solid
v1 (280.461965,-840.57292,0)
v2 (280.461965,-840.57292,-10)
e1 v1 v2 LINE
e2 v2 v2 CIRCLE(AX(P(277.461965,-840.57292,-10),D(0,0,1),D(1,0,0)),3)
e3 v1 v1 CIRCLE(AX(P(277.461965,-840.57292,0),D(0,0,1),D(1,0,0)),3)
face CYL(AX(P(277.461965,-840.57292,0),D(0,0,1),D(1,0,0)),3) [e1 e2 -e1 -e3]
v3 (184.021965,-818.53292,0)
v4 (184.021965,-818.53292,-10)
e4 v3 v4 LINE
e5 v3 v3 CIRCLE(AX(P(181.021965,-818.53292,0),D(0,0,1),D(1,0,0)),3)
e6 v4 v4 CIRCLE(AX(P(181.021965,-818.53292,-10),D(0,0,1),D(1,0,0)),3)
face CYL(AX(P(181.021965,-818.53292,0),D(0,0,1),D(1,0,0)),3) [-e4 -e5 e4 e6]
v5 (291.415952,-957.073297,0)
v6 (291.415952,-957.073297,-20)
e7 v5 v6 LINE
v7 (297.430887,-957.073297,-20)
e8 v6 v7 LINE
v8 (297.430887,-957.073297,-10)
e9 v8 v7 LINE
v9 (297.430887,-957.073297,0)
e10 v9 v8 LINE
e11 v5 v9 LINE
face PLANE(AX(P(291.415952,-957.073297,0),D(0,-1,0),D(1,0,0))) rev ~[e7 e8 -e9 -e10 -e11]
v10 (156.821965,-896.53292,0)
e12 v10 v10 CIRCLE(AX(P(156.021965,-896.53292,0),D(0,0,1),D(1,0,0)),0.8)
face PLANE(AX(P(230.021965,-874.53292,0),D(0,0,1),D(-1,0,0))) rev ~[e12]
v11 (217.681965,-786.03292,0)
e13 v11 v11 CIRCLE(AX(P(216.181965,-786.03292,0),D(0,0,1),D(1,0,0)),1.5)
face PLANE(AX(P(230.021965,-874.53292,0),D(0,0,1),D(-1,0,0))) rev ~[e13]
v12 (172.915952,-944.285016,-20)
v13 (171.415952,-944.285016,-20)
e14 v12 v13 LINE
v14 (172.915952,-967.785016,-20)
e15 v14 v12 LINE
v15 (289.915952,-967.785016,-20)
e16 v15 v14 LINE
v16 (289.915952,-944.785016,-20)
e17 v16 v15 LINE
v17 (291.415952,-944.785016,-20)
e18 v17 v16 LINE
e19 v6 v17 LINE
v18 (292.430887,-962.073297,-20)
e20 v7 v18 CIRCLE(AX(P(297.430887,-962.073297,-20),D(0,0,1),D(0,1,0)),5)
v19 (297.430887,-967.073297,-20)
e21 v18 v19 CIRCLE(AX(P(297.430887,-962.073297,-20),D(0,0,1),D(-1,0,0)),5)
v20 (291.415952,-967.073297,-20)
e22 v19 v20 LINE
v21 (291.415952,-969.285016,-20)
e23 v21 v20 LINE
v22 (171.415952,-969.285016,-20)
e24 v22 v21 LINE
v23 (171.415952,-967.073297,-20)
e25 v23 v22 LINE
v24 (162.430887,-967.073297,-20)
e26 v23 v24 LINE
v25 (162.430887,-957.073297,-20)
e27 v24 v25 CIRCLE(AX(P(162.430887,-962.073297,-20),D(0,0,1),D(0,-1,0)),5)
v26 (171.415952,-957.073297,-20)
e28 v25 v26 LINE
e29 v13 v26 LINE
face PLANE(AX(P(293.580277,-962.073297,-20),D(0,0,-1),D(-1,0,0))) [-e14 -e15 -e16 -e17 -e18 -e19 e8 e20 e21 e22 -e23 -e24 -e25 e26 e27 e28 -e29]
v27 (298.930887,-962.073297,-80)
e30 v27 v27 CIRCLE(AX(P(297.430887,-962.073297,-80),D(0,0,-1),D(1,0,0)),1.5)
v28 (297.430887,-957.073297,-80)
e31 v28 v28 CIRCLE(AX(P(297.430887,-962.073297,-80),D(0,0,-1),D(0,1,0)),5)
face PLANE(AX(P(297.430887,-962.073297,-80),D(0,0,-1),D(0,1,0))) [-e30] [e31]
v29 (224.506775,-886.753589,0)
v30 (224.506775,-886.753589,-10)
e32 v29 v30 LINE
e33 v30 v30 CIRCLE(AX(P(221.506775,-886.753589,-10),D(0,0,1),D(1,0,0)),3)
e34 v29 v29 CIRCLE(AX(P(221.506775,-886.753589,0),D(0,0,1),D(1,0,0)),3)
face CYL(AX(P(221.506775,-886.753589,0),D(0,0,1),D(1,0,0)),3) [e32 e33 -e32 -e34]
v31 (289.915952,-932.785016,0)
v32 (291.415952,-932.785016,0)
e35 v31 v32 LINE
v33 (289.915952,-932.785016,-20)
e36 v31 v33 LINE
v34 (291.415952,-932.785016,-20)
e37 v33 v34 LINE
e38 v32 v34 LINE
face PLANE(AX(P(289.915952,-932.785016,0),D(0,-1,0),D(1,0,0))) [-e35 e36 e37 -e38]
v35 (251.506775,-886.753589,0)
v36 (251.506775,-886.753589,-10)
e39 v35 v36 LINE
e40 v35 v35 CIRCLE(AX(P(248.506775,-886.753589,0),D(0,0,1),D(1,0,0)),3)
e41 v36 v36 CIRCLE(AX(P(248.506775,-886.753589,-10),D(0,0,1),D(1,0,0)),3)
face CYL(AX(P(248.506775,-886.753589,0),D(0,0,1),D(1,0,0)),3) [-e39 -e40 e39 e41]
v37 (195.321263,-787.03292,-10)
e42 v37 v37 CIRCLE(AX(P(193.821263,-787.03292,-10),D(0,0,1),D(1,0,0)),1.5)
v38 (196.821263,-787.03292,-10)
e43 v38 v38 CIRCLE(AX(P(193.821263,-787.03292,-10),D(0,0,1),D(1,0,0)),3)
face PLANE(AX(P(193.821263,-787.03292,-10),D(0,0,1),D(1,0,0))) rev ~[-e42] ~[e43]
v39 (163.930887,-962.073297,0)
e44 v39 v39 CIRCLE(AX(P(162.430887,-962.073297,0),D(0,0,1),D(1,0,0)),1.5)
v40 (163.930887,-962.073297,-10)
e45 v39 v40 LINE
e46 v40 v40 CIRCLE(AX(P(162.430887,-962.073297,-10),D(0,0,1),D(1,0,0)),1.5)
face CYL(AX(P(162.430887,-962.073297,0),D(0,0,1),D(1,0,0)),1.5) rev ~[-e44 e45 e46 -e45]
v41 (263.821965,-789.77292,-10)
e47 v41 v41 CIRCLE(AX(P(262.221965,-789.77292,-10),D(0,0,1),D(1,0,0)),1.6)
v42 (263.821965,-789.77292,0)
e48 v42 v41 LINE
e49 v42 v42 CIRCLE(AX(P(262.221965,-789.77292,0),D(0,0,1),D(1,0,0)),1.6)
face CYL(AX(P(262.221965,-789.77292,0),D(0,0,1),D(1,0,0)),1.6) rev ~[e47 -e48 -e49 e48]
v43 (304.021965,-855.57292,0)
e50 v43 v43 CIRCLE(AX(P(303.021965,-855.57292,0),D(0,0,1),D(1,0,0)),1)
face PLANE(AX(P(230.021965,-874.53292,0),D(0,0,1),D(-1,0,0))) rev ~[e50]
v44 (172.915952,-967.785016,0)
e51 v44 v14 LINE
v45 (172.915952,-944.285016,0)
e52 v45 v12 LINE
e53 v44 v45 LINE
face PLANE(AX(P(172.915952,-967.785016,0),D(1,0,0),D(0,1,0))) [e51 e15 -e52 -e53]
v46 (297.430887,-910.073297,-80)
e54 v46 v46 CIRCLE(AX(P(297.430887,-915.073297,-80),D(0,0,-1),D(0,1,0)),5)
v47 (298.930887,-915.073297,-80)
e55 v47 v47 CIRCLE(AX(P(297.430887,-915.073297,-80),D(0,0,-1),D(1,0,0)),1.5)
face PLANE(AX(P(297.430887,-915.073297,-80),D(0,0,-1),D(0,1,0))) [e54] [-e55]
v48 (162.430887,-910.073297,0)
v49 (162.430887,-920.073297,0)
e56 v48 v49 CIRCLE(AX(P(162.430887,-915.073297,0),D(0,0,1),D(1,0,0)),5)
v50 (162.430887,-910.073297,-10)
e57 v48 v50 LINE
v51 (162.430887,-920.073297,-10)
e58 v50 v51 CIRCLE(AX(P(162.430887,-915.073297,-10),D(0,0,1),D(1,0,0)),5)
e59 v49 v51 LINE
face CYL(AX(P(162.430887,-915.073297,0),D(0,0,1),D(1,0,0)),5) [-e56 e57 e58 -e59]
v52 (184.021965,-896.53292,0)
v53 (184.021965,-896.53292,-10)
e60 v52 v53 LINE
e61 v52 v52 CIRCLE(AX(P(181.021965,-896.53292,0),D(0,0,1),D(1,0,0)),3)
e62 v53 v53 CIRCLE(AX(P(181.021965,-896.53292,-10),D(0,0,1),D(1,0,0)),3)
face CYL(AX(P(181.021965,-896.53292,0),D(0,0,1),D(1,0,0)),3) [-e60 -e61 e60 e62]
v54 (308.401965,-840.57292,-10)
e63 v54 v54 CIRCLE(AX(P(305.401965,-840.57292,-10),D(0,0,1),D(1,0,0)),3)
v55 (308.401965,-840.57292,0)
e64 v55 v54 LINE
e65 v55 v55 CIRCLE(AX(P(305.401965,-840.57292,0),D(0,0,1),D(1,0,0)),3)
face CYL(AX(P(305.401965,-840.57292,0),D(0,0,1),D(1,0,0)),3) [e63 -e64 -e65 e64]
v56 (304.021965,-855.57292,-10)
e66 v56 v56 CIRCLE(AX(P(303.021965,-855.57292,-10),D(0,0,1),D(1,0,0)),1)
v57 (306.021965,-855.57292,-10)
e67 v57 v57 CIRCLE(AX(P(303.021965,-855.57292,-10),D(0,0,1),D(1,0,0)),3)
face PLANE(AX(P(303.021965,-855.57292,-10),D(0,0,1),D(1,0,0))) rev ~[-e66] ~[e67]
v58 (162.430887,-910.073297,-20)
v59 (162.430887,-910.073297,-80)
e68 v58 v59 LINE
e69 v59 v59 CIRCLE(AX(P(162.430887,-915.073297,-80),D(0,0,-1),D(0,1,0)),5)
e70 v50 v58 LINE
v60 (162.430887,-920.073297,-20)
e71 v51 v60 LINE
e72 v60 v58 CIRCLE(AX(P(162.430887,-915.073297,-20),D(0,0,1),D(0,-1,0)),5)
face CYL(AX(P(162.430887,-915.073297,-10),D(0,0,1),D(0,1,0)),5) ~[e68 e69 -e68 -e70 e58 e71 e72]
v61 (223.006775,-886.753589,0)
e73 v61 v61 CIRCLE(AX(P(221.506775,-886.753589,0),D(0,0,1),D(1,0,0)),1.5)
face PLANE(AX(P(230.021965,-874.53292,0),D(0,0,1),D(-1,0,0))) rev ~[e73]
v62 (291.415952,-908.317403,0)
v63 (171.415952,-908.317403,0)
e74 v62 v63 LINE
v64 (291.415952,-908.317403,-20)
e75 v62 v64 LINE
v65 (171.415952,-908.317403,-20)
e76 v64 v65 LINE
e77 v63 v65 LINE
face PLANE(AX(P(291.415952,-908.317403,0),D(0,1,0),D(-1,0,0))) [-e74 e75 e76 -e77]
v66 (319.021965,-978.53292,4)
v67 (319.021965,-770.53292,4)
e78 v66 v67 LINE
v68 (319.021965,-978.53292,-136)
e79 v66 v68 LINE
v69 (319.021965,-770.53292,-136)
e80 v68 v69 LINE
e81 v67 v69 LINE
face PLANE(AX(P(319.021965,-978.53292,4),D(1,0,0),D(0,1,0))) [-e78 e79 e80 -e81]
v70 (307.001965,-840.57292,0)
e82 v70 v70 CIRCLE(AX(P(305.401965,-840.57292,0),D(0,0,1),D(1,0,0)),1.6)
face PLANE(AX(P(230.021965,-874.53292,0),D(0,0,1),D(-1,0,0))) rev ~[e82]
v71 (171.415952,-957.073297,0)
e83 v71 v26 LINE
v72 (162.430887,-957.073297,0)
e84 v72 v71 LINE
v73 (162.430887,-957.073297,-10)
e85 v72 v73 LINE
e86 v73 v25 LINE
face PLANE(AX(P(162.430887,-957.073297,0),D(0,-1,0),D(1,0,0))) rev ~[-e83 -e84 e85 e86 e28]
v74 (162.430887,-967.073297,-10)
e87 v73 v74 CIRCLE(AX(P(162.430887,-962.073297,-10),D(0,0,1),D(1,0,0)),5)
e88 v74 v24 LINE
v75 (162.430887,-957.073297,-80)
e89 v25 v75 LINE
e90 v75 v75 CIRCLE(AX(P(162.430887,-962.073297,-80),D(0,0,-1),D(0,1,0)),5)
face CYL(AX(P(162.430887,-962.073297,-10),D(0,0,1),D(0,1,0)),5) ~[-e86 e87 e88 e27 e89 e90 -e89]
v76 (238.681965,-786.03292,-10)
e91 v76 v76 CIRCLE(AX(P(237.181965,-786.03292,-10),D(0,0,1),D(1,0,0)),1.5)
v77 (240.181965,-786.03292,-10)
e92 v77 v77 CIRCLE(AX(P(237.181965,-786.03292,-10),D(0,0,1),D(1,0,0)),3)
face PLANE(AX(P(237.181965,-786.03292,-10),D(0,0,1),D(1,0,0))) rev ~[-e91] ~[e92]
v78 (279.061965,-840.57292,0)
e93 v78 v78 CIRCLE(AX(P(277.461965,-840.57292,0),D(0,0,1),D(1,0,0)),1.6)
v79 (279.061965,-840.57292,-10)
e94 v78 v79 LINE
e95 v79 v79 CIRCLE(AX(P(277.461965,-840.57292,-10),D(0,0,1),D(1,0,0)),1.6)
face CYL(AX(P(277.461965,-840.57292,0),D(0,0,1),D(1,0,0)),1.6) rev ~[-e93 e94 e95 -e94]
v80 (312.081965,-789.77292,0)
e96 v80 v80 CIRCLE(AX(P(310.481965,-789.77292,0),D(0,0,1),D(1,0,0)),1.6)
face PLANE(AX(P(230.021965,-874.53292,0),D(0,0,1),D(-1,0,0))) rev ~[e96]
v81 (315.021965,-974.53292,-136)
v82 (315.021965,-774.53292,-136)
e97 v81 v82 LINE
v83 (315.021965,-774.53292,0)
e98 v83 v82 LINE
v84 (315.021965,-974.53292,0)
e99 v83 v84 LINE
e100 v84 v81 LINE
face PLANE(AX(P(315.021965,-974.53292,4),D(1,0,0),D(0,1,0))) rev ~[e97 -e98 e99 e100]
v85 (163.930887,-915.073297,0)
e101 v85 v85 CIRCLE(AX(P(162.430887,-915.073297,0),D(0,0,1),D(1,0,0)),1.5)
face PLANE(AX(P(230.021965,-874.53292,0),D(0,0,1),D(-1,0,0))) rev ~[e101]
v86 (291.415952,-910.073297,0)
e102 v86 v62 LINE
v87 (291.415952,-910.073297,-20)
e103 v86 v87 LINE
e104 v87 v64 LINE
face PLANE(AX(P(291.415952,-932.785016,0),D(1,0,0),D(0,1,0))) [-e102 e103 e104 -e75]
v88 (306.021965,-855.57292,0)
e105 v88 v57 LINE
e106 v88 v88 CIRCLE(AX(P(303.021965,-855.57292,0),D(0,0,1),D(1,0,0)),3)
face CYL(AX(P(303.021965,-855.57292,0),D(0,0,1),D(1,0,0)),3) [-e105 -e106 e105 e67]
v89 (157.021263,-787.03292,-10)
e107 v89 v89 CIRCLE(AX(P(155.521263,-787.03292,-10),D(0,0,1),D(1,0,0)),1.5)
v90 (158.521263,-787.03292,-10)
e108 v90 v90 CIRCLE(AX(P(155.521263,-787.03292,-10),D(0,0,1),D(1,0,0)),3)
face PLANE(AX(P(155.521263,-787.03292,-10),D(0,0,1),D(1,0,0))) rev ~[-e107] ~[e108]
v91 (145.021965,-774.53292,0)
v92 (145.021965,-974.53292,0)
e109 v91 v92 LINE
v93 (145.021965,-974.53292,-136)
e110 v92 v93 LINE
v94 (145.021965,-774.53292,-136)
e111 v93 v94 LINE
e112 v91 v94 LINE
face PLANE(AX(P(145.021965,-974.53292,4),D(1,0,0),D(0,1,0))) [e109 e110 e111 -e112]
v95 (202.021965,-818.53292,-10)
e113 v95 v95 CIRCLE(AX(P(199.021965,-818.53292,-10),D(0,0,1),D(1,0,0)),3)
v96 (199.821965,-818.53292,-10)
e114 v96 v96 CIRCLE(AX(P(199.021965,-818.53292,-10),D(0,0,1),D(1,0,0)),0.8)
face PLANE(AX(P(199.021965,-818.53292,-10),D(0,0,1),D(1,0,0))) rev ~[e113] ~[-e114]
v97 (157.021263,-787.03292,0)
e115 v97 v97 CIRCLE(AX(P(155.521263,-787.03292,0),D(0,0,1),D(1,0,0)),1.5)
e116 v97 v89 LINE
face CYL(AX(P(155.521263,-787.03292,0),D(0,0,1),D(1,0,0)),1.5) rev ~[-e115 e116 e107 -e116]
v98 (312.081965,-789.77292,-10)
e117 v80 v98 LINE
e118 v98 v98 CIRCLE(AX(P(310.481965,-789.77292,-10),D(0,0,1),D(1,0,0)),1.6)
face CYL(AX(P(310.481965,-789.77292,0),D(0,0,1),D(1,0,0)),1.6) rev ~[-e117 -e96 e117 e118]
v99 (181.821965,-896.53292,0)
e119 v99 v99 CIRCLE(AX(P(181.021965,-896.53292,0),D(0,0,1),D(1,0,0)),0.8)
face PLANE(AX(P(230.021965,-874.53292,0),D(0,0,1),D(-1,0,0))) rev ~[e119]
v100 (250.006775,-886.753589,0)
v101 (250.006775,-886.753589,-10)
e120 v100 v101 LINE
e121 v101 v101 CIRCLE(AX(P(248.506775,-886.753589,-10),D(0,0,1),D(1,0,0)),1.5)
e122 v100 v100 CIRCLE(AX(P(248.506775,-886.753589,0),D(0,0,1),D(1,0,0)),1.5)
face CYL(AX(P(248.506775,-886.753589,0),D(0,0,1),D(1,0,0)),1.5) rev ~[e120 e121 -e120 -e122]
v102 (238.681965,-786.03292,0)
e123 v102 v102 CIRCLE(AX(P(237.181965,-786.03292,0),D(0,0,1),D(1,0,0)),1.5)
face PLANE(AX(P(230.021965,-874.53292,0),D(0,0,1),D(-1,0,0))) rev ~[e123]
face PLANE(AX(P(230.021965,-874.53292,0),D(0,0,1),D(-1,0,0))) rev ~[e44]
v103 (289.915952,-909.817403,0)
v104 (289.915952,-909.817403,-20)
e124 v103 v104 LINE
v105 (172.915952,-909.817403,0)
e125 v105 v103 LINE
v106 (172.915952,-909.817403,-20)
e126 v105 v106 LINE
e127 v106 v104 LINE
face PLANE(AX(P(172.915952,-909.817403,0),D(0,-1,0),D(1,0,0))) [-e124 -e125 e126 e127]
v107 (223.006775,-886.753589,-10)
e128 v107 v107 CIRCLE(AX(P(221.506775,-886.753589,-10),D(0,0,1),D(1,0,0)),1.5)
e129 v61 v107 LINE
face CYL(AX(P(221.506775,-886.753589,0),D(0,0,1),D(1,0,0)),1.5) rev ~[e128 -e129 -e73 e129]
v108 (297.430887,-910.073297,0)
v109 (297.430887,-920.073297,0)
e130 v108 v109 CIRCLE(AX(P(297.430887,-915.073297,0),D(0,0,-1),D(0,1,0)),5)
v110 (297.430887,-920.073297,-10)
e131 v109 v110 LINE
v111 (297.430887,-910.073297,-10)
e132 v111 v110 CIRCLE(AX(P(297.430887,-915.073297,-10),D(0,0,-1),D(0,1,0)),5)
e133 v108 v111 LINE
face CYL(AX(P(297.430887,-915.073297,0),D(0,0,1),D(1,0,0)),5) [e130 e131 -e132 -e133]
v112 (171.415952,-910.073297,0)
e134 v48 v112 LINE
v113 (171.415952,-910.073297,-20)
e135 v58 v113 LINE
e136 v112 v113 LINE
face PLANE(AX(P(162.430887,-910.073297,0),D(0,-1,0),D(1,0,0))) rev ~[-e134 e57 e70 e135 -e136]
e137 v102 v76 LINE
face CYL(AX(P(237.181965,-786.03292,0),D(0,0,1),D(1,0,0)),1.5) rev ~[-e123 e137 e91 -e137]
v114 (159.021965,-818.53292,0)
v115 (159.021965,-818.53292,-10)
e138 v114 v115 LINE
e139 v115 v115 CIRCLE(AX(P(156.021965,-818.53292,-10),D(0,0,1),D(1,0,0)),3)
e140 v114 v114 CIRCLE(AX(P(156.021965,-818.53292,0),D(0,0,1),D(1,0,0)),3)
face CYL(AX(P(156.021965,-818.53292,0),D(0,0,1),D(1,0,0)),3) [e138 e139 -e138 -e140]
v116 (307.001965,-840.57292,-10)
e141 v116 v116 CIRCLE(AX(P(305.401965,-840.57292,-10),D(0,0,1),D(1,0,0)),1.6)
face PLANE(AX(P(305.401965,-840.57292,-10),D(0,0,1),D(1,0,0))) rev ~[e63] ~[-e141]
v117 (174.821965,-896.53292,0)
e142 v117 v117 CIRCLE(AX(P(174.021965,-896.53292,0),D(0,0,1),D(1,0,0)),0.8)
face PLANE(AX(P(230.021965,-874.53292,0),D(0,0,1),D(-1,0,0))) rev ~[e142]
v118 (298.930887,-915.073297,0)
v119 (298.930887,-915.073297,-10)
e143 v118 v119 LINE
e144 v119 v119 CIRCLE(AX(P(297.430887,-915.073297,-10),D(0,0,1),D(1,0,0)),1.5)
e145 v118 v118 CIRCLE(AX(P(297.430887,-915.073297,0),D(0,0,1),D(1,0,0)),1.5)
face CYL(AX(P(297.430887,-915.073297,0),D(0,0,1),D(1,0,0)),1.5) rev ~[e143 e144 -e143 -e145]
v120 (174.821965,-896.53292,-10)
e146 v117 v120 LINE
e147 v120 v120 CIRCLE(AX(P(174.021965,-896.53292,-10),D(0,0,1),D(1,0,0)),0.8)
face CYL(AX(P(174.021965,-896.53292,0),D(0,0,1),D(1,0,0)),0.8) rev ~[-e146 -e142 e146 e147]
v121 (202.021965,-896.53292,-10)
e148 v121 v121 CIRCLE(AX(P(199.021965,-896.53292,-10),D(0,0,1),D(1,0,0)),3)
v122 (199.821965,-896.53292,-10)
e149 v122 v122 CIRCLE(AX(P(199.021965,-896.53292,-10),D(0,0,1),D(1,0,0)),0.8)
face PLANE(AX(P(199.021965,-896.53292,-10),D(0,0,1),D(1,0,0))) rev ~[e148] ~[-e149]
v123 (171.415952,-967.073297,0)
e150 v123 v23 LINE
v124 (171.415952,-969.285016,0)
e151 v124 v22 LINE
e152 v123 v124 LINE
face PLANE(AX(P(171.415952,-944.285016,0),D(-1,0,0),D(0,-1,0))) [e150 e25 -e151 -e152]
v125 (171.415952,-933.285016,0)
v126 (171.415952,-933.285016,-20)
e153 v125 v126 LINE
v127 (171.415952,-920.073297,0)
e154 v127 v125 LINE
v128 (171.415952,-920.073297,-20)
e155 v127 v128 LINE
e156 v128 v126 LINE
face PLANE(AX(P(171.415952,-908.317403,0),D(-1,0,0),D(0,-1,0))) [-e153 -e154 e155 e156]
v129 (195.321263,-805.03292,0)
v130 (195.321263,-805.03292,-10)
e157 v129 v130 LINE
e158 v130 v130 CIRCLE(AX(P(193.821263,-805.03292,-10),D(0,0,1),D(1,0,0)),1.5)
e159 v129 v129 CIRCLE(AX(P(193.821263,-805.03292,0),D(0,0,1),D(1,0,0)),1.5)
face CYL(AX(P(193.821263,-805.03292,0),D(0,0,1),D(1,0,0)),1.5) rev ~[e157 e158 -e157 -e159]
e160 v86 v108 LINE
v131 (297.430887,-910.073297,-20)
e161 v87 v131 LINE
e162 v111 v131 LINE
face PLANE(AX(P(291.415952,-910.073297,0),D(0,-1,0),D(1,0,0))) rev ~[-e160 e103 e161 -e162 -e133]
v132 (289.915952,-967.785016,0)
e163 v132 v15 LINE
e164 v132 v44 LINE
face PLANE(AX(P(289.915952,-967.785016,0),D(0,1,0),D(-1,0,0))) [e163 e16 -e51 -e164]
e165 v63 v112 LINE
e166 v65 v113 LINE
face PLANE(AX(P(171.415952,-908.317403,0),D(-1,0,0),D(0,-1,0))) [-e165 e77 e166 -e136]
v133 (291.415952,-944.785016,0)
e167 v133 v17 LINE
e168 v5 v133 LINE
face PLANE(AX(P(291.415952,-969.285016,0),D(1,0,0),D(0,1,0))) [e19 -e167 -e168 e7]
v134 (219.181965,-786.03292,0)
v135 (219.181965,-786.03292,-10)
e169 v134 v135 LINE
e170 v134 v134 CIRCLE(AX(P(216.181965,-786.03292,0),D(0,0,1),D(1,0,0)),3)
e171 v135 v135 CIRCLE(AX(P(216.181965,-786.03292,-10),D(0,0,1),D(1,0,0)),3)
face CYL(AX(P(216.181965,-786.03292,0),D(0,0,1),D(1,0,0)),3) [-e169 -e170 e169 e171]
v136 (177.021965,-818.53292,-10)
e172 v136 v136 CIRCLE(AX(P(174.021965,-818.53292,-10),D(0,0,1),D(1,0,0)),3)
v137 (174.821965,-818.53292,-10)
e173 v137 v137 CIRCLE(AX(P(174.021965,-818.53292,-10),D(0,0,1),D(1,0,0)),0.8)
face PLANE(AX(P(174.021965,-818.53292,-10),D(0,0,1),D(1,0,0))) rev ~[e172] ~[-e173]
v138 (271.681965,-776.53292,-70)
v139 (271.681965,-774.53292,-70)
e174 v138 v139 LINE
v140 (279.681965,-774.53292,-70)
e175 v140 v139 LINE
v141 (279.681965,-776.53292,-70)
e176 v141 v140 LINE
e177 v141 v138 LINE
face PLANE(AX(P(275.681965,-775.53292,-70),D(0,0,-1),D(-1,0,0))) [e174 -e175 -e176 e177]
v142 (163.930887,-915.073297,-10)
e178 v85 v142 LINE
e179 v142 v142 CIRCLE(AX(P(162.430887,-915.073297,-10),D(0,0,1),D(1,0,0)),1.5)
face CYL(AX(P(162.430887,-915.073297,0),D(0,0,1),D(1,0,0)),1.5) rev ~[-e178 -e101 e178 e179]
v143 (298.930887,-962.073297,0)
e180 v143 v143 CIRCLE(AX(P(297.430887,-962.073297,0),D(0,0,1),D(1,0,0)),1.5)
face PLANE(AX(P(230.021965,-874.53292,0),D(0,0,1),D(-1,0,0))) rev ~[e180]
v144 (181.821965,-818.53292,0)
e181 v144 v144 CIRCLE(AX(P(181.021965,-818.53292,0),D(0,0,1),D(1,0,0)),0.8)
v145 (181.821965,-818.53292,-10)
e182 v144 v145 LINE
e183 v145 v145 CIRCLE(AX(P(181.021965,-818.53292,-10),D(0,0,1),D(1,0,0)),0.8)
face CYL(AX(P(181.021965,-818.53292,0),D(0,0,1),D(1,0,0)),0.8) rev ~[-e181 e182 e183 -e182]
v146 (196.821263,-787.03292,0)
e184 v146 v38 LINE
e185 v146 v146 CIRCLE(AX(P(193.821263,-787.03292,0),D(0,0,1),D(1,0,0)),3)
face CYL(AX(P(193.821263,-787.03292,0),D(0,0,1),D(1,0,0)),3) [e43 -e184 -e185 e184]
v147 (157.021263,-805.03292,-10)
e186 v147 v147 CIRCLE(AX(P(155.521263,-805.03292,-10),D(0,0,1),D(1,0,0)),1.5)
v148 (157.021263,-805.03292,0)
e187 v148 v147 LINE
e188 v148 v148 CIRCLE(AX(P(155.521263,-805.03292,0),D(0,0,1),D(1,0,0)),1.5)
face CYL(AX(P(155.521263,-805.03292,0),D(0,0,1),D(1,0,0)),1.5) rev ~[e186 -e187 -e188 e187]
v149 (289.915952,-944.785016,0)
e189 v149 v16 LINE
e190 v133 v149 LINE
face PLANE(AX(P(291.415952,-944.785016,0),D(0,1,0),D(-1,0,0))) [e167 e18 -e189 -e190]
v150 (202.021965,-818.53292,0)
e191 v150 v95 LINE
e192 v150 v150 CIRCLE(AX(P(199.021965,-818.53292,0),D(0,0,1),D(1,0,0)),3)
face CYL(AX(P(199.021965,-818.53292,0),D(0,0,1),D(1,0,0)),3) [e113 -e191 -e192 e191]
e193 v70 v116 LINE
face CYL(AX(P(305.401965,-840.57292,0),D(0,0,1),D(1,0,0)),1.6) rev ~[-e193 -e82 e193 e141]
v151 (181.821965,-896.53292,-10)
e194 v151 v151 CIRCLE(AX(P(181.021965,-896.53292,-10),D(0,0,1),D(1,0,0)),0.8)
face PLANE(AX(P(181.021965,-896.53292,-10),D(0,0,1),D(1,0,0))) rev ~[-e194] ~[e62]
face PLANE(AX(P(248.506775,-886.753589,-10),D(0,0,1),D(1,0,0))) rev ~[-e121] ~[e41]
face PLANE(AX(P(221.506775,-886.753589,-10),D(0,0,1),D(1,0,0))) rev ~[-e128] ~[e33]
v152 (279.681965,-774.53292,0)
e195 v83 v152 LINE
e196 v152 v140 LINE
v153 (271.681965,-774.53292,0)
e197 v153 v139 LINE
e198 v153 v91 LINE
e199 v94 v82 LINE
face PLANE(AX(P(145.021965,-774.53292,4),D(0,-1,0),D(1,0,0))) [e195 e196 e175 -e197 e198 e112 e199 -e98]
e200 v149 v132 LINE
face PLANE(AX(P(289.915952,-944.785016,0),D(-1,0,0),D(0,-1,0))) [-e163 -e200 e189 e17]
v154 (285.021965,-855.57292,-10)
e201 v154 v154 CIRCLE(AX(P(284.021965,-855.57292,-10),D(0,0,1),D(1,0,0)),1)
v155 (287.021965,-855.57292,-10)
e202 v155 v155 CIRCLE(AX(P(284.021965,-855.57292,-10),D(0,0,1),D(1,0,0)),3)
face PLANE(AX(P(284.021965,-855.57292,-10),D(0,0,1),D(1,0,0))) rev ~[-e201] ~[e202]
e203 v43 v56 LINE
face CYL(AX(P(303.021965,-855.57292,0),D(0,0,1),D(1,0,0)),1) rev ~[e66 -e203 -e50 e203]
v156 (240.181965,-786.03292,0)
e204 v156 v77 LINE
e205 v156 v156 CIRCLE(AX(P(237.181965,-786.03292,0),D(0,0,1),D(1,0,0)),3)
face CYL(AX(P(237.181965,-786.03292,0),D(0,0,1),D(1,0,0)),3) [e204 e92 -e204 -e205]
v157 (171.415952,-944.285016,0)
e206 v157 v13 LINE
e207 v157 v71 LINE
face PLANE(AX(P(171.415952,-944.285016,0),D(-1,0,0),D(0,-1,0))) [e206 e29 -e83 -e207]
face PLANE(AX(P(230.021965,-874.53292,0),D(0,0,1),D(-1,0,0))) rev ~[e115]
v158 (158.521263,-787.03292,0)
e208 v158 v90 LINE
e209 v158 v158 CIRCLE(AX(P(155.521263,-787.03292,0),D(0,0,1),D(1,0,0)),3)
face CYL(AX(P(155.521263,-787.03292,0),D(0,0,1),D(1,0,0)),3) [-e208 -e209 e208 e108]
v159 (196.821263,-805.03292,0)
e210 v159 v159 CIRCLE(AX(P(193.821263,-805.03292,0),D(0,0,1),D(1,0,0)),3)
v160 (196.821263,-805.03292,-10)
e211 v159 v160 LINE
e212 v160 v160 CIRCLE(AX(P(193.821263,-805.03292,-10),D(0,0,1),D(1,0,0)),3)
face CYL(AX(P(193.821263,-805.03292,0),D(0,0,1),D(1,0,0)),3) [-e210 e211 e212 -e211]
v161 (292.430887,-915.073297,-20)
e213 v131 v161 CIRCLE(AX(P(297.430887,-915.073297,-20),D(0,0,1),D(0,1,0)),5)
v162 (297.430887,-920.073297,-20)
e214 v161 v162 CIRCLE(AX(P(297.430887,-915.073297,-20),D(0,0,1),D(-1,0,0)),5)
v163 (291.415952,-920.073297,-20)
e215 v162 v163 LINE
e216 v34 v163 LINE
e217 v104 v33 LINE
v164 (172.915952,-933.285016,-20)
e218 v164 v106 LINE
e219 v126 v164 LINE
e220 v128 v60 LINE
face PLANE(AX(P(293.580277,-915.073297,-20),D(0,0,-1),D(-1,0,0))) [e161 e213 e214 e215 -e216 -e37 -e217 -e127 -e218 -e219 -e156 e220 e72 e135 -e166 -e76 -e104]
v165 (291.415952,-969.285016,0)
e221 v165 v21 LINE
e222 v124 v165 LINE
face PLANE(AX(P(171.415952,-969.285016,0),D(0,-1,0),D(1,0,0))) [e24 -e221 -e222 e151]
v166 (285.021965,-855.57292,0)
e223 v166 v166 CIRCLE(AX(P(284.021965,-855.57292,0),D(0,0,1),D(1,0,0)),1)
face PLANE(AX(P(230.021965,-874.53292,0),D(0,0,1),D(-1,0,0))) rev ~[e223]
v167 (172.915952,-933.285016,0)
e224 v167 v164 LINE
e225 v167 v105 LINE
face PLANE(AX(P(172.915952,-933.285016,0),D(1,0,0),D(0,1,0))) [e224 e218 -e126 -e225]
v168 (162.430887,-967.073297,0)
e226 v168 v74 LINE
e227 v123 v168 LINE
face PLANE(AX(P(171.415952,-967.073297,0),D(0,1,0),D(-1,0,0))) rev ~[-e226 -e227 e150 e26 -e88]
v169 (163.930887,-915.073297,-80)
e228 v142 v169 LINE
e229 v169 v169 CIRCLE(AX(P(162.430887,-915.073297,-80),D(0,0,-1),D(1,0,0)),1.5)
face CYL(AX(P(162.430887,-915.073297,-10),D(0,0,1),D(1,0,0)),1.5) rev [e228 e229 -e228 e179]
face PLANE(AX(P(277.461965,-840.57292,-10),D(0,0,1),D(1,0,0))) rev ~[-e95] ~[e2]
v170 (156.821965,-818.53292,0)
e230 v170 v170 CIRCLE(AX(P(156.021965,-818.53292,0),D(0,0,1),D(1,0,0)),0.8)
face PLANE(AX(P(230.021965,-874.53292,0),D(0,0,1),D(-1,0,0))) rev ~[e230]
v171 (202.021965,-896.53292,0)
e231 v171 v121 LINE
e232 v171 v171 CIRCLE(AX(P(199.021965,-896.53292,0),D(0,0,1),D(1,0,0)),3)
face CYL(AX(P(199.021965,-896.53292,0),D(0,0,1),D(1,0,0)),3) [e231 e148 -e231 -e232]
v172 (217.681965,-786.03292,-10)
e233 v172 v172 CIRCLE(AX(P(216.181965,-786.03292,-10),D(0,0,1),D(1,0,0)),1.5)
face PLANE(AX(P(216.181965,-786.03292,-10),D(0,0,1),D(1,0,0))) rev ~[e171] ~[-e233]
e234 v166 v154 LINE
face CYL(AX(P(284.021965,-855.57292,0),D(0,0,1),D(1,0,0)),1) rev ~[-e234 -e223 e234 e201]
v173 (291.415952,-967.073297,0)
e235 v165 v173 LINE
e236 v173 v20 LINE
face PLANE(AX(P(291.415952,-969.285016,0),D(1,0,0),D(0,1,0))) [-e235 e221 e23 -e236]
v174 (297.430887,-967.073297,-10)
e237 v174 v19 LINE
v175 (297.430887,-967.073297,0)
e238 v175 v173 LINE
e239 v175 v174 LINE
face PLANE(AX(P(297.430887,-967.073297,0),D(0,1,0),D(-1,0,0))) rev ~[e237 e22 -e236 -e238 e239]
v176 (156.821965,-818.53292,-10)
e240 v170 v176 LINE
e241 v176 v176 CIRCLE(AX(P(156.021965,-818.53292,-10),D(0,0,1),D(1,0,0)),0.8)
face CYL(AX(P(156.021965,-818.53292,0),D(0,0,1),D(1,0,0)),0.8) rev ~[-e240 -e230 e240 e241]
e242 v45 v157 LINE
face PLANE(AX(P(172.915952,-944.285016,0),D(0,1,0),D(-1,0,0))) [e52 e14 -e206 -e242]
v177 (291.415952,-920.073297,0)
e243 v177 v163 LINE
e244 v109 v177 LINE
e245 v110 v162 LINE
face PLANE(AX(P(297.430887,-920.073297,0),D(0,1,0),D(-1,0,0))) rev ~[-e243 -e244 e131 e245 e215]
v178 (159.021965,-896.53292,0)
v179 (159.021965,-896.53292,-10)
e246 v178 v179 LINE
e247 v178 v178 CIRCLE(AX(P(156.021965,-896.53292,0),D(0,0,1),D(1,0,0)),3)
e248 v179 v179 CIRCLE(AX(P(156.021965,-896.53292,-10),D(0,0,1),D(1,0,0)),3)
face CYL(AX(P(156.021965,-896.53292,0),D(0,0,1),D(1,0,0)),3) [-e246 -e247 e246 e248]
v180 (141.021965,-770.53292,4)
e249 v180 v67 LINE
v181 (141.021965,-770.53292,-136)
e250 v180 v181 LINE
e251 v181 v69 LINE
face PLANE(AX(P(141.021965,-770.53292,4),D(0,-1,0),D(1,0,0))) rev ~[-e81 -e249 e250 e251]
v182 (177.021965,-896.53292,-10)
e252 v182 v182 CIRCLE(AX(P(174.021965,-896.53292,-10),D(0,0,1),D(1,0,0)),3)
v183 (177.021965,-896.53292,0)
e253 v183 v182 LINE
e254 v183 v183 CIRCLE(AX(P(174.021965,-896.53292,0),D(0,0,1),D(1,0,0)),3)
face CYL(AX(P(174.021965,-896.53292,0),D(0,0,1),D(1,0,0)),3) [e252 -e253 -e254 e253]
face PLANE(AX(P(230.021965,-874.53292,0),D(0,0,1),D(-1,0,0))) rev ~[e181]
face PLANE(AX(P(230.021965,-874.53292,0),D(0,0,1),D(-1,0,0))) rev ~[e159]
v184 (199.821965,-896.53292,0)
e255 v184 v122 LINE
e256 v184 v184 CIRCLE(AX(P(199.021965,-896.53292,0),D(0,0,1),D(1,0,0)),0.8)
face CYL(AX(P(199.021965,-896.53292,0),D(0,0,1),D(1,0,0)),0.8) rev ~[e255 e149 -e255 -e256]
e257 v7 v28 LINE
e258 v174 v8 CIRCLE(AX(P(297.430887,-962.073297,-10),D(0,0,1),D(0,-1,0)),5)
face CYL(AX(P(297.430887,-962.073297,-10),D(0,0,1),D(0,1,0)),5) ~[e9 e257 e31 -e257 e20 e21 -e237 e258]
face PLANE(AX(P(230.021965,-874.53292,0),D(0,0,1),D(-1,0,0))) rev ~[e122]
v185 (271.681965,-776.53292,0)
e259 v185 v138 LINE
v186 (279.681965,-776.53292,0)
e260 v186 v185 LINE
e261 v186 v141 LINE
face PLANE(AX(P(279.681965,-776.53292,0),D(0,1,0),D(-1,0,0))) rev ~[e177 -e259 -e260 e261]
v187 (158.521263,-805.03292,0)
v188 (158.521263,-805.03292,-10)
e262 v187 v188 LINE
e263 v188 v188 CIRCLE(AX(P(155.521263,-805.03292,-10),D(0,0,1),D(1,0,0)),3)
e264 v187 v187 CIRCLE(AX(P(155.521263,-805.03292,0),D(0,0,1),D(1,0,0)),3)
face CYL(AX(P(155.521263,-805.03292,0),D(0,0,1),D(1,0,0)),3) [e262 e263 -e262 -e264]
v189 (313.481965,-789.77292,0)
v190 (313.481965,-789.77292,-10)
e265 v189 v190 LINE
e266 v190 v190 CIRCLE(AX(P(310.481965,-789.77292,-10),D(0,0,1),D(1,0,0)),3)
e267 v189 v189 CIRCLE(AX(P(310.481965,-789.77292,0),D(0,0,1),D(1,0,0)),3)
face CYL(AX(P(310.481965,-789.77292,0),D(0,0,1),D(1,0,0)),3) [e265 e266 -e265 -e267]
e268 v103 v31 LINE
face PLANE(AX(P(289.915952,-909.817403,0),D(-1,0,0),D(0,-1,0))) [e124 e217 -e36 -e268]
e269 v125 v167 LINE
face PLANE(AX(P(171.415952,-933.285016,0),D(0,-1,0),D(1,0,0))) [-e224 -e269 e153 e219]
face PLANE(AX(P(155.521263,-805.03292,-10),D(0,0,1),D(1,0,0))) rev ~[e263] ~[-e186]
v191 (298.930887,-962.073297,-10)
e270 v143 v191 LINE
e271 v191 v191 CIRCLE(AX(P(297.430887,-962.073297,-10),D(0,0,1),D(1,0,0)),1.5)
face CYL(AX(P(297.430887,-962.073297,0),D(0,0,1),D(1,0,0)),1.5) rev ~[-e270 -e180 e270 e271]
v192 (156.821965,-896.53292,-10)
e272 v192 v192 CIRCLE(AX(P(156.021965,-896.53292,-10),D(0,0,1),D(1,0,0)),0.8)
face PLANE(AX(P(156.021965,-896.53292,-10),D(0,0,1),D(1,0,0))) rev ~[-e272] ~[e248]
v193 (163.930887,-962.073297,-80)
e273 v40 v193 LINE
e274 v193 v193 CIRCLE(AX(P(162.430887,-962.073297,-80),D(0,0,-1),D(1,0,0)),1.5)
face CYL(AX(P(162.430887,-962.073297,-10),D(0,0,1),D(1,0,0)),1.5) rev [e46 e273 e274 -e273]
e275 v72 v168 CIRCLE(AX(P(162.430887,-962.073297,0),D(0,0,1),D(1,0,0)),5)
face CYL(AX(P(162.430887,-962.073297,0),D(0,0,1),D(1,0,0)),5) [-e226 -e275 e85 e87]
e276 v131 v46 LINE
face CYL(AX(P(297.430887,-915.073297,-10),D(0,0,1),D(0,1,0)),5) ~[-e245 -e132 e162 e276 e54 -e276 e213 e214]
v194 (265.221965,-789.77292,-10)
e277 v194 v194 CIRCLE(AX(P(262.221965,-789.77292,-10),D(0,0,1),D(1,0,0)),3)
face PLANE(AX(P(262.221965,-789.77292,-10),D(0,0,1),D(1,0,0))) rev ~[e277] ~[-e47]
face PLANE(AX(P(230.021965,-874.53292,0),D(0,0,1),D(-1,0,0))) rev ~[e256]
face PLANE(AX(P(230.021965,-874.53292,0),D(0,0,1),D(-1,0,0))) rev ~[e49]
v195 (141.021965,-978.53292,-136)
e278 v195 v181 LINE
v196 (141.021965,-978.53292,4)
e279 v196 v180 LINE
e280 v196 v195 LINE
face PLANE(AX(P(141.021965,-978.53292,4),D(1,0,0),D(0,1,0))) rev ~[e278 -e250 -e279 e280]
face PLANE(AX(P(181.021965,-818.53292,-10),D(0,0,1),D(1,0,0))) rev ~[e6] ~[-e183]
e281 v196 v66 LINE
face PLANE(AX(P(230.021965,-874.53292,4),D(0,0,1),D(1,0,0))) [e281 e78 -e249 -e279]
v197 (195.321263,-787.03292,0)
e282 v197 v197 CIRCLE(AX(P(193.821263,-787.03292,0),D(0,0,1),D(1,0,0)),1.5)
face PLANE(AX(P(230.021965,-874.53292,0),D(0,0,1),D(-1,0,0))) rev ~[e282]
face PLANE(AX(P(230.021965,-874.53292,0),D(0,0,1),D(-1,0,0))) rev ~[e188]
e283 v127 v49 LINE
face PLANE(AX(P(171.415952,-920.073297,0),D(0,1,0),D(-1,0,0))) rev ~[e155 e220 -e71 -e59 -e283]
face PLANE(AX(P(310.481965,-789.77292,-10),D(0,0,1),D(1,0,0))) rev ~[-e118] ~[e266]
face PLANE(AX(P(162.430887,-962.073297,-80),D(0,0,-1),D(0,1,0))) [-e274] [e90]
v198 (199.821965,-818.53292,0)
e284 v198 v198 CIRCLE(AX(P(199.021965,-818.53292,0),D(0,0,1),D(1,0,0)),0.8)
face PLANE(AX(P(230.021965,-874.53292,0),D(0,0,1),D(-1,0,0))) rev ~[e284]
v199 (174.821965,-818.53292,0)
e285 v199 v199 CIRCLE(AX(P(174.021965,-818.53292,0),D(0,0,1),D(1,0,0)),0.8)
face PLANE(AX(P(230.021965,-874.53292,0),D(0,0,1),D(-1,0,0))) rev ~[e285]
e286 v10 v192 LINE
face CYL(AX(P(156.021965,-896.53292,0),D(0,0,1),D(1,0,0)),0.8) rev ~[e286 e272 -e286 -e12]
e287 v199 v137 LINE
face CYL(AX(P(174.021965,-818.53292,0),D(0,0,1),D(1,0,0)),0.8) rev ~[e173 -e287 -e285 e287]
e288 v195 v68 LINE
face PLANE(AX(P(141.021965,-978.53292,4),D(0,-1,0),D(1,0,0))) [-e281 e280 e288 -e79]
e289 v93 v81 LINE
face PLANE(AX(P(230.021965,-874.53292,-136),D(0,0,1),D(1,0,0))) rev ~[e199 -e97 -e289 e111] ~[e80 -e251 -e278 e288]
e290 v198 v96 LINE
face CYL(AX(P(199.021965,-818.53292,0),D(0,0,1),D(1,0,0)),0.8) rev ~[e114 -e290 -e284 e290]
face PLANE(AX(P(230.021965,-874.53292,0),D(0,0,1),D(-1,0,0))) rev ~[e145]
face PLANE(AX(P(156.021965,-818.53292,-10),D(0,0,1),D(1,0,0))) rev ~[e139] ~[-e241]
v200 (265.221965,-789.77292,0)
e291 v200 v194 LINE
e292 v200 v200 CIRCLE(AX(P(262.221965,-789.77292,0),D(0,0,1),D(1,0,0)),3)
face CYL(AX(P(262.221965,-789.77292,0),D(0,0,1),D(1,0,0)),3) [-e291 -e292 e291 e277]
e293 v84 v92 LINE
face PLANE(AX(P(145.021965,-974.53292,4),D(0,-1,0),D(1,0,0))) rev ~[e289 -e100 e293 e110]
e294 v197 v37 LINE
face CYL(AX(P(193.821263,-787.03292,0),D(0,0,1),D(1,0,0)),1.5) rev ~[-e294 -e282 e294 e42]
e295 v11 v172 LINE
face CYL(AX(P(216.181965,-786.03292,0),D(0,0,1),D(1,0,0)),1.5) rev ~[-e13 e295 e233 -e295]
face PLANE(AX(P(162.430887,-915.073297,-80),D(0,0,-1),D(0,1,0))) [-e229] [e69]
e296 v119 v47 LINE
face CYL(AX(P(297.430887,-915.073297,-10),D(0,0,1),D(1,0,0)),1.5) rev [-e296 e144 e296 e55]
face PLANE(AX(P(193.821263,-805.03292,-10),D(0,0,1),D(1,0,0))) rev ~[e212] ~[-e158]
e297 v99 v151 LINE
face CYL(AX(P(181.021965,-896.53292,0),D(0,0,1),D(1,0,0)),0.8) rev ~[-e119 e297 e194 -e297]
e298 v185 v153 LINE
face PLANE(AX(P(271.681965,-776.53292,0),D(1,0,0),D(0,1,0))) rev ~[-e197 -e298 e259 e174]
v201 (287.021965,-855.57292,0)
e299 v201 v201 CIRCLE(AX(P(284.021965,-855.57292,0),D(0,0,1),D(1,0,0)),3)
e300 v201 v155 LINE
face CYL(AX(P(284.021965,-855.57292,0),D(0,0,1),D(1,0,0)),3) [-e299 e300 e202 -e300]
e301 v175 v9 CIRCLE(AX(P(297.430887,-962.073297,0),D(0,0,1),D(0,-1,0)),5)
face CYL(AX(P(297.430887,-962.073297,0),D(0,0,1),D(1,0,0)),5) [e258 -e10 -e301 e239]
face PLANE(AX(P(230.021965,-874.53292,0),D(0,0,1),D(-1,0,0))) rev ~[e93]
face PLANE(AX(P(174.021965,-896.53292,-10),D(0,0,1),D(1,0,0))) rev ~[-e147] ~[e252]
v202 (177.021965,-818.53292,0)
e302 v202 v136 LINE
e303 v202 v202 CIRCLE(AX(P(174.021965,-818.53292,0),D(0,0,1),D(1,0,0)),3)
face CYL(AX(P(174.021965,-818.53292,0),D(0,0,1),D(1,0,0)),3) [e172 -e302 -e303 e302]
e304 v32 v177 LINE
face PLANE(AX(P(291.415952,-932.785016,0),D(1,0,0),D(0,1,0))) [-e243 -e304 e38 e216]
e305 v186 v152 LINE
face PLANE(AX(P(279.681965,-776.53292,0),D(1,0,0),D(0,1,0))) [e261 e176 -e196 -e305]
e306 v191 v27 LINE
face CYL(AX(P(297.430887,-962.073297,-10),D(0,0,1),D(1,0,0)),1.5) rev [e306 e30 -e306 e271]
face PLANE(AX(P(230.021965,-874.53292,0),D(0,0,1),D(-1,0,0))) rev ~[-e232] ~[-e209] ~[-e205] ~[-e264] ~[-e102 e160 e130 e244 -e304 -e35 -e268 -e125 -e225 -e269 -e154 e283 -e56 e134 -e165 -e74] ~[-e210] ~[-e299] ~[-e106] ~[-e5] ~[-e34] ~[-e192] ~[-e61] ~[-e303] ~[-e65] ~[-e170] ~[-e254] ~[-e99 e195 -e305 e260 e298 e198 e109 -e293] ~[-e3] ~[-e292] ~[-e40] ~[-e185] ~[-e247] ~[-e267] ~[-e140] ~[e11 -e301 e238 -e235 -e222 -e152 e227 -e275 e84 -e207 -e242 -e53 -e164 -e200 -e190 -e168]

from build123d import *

# Parameters (mm, degrees)
SZKIC6_W                     = 170
SZKIC6_H                     = 200
DODANIE_WYCI_GNI_CIE3_DEPTH  = 4
SZKIC7_R                     = 5
SZKIC7_R_2                   = 1.5
SZKIC7_R_3                   = 3
SZKIC7_R_4                   = 0.8
SZKIC7_R_5                   = 1
SZKIC7_R_6                   = 1.6
DODANIE_WYCI_GNI_CIE4_DEPTH  = 10
SZKIC9_W                     = 178
SZKIC9_H                     = 208
SZKIC9_W_2                   = 170
SZKIC9_H_2                   = 200
DODANIE_WYCI_GNI_CIE5_DEPTH  = 140
DODANIE_WYCI_GNI_CIE7_DEPTH  = 20
DODANIE_WYCI_GNI_CIE8_DEPTH  = 20
SZKIC12_R                    = 5
SZKIC12_R_2                  = 1.5
DODANIE_WYCI_GNI_CIE9_DEPTH  = 70
SZKIC14_W                    = 8
SZKIC14_H                    = 2
DODANIE_WYCI_GNI_CIE10_DEPTH = 70


with BuildPart() as part:
    # Szkic6 → Dodanie-wyciągnięcie3 (new body)
    with BuildSketch(Plane(origin=(0, 0, 0), x_dir=(-1, 0, 0), z_dir=(0, 0, 1))):
        with Locations((-230.021965136, 874.532919951)):
            Rectangle(SZKIC6_W, SZKIC6_H)
    extrude(amount=DODANIE_WYCI_GNI_CIE3_DEPTH)

    # Szkic7 → Dodanie-wyciągnięcie4 (add)
    # profile 1 of 26: a face of its own
    with BuildSketch(Plane(origin=(0, 0, 0), x_dir=(-1, 0, 0), z_dir=(0, 0, 1))):
        with Locations(Location((-162.430886785, 962.073296905, 0), (0, 0, 180))):
            Circle(SZKIC7_R)
        with Locations(Location((-162.430886785, 962.073296905, 0), (0, 0, 180))):
            Circle(SZKIC7_R_2, mode=Mode.SUBTRACT)
    # profile 2 of 26: a face of its own
    with BuildSketch(Plane(origin=(0, 0, 0), x_dir=(-1, 0, 0), z_dir=(0, 0, 1))):
        with Locations(Location((-297.430886785, 962.073296905, 0), (0, 0, 180))):
            Circle(SZKIC7_R)
        with Locations(Location((-297.430886785, 962.073296905, 0), (0, 0, 180))):
            Circle(SZKIC7_R_2, mode=Mode.SUBTRACT)
    # profile 3 of 26: a face of its own
    with BuildSketch(Plane(origin=(0, 0, 0), x_dir=(-1, 0, 0), z_dir=(0, 0, 1))):
        with Locations(Location((-297.430886785, 915.073296905, 0), (0, 0, 180))):
            Circle(SZKIC7_R)
        with Locations(Location((-297.430886785, 915.073296905, 0), (0, 0, 180))):
            Circle(SZKIC7_R_2, mode=Mode.SUBTRACT)
    # profile 4 of 26: a face of its own
    with BuildSketch(Plane(origin=(0, 0, 0), x_dir=(-1, 0, 0), z_dir=(0, 0, 1))):
        with Locations(Location((-248.506775451, 886.753589049, 0), (0, 0, 180))):
            Circle(SZKIC7_R_3)
        with Locations(Location((-248.506775451, 886.753589049, 0), (0, 0, 180))):
            Circle(SZKIC7_R_2, mode=Mode.SUBTRACT)
    # profile 5 of 26: a face of its own
    with BuildSketch(Plane(origin=(0, 0, 0), x_dir=(-1, 0, 0), z_dir=(0, 0, 1))):
        with Locations(Location((-221.506775451, 886.753589049, 0), (0, 0, 180))):
            Circle(SZKIC7_R_3)
        with Locations(Location((-221.506775451, 886.753589049, 0), (0, 0, 180))):
            Circle(SZKIC7_R_2, mode=Mode.SUBTRACT)
    # profile 6 of 26: a face of its own
    with BuildSketch(Plane(origin=(0, 0, 0), x_dir=(-1, 0, 0), z_dir=(0, 0, 1))):
        with Locations(Location((-199.021965136, 896.532919951, 0), (0, 0, 180))):
            Circle(SZKIC7_R_3)
        with Locations(Location((-199.021965136, 896.532919951, 0), (0, 0, 180))):
            Circle(SZKIC7_R_4, mode=Mode.SUBTRACT)
    # profile 7 of 26: a face of its own
    with BuildSketch(Plane(origin=(0, 0, 0), x_dir=(-1, 0, 0), z_dir=(0, 0, 1))):
        with Locations(Location((-181.021965136, 896.532919951, 0), (0, 0, 180))):
            Circle(SZKIC7_R_3)
        with Locations(Location((-181.021965136, 896.532919951, 0), (0, 0, 180))):
            Circle(SZKIC7_R_4, mode=Mode.SUBTRACT)
    # profile 8 of 26: a face of its own
    with BuildSketch(Plane(origin=(0, 0, 0), x_dir=(-1, 0, 0), z_dir=(0, 0, 1))):
        with Locations(Location((-174.021965136, 896.532919951, 0), (0, 0, 180))):
            Circle(SZKIC7_R_3)
        with Locations(Location((-174.021965136, 896.532919951, 0), (0, 0, 180))):
            Circle(SZKIC7_R_4, mode=Mode.SUBTRACT)
    # profile 9 of 26: a face of its own
    with BuildSketch(Plane(origin=(0, 0, 0), x_dir=(-1, 0, 0), z_dir=(0, 0, 1))):
        with Locations(Location((-156.021965136, 896.532919951, 0), (0, 0, 180))):
            Circle(SZKIC7_R_3)
        with Locations(Location((-156.021965136, 896.532919951, 0), (0, 0, 180))):
            Circle(SZKIC7_R_4, mode=Mode.SUBTRACT)
    # profile 10 of 26: a face of its own
    with BuildSketch(Plane(origin=(0, 0, 0), x_dir=(-1, 0, 0), z_dir=(0, 0, 1))):
        with Locations(Location((-162.430886785, 915.073296905, 0), (0, 0, 180))):
            Circle(SZKIC7_R)
        with Locations(Location((-162.430886785, 915.073296905, 0), (0, 0, 180))):
            Circle(SZKIC7_R_2, mode=Mode.SUBTRACT)
    # profile 11 of 26: a face of its own
    with BuildSketch(Plane(origin=(0, 0, 0), x_dir=(-1, 0, 0), z_dir=(0, 0, 1))):
        with Locations(Location((-284.021965136, 855.572919951, 0), (0, 0, 180))):
            Circle(SZKIC7_R_3)
        with Locations(Location((-284.021965136, 855.572919951, 0), (0, 0, 180))):
            Circle(SZKIC7_R_5, mode=Mode.SUBTRACT)
    # profile 12 of 26: a face of its own
    with BuildSketch(Plane(origin=(0, 0, 0), x_dir=(-1, 0, 0), z_dir=(0, 0, 1))):
        with Locations(Location((-277.461965136, 840.572919951, 0), (0, 0, 180))):
            Circle(SZKIC7_R_3)
        with Locations(Location((-277.461965136, 840.572919951, 0), (0, 0, 180))):
            Circle(SZKIC7_R_6, mode=Mode.SUBTRACT)
    # profile 13 of 26: a face of its own
    with BuildSketch(Plane(origin=(0, 0, 0), x_dir=(-1, 0, 0), z_dir=(0, 0, 1))):
        with Locations(Location((-303.021965136, 855.572919951, 0), (0, 0, 180))):
            Circle(SZKIC7_R_3)
        with Locations(Location((-303.021965136, 855.572919951, 0), (0, 0, 180))):
            Circle(SZKIC7_R_5, mode=Mode.SUBTRACT)
    # profile 14 of 26: a face of its own
    with BuildSketch(Plane(origin=(0, 0, 0), x_dir=(-1, 0, 0), z_dir=(0, 0, 1))):
        with Locations(Location((-305.401965136, 840.572919951, 0), (0, 0, 180))):
            Circle(SZKIC7_R_3)
        with Locations(Location((-305.401965136, 840.572919951, 0), (0, 0, 180))):
            Circle(SZKIC7_R_6, mode=Mode.SUBTRACT)
    # profile 15 of 26: a face of its own
    with BuildSketch(Plane(origin=(0, 0, 0), x_dir=(-1, 0, 0), z_dir=(0, 0, 1))):
        with Locations(Location((-310.481965136, 789.772919951, 0), (0, 0, 180))):
            Circle(SZKIC7_R_3)
        with Locations(Location((-310.481965136, 789.772919951, 0), (0, 0, 180))):
            Circle(SZKIC7_R_6, mode=Mode.SUBTRACT)
    # profile 16 of 26: a face of its own
    with BuildSketch(Plane(origin=(0, 0, 0), x_dir=(-1, 0, 0), z_dir=(0, 0, 1))):
        with Locations(Location((-262.221965136, 789.772919951, 0), (0, 0, 180))):
            Circle(SZKIC7_R_3)
        with Locations(Location((-262.221965136, 789.772919951, 0), (0, 0, 180))):
            Circle(SZKIC7_R_6, mode=Mode.SUBTRACT)
    # profile 17 of 26: a face of its own
    with BuildSketch(Plane(origin=(0, 0, 0), x_dir=(-1, 0, 0), z_dir=(0, 0, 1))):
        with Locations(Location((-237.181965136, 786.032919951, 0), (0, 0, 180))):
            Circle(SZKIC7_R_3)
        with Locations(Location((-237.181965136, 786.032919951, 0), (0, 0, 180))):
            Circle(SZKIC7_R_2, mode=Mode.SUBTRACT)
    # profile 18 of 26: a face of its own
    with BuildSketch(Plane(origin=(0, 0, 0), x_dir=(-1, 0, 0), z_dir=(0, 0, 1))):
        with Locations(Location((-216.181965136, 786.032919951, 0), (0, 0, 180))):
            Circle(SZKIC7_R_3)
        with Locations(Location((-216.181965136, 786.032919951, 0), (0, 0, 180))):
            Circle(SZKIC7_R_2, mode=Mode.SUBTRACT)
    # profile 19 of 26: a face of its own
    with BuildSketch(Plane(origin=(0, 0, 0), x_dir=(-1, 0, 0), z_dir=(0, 0, 1))):
        with Locations(Location((-199.021965136, 818.532919951, 0), (0, 0, 180))):
            Circle(SZKIC7_R_3)
        with Locations(Location((-199.021965136, 818.532919951, 0), (0, 0, 180))):
            Circle(SZKIC7_R_4, mode=Mode.SUBTRACT)
    # profile 20 of 26: a face of its own
    with BuildSketch(Plane(origin=(0, 0, 0), x_dir=(-1, 0, 0), z_dir=(0, 0, 1))):
        with Locations(Location((-181.021965136, 818.532919951, 0), (0, 0, 180))):
            Circle(SZKIC7_R_3)
        with Locations(Location((-181.021965136, 818.532919951, 0), (0, 0, 180))):
            Circle(SZKIC7_R_4, mode=Mode.SUBTRACT)
    # profile 21 of 26: a face of its own
    with BuildSketch(Plane(origin=(0, 0, 0), x_dir=(-1, 0, 0), z_dir=(0, 0, 1))):
        with Locations(Location((-174.021965136, 818.532919951, 0), (0, 0, 180))):
            Circle(SZKIC7_R_3)
        with Locations(Location((-174.021965136, 818.532919951, 0), (0, 0, 180))):
            Circle(SZKIC7_R_4, mode=Mode.SUBTRACT)
    # profile 22 of 26: a face of its own
    with BuildSketch(Plane(origin=(0, 0, 0), x_dir=(-1, 0, 0), z_dir=(0, 0, 1))):
        with Locations(Location((-156.021965136, 818.532919951, 0), (0, 0, 180))):
            Circle(SZKIC7_R_3)
        with Locations(Location((-156.021965136, 818.532919951, 0), (0, 0, 180))):
            Circle(SZKIC7_R_4, mode=Mode.SUBTRACT)
    # profile 23 of 26: a face of its own
    with BuildSketch(Plane(origin=(0, 0, 0), x_dir=(-1, 0, 0), z_dir=(0, 0, 1))):
        with Locations(Location((-155.521262892, 805.032919951, 0), (0, 0, 180))):
            Circle(SZKIC7_R_3)
        with Locations(Location((-155.521262892, 805.032919951, 0), (0, 0, 180))):
            Circle(SZKIC7_R_2, mode=Mode.SUBTRACT)
    # profile 24 of 26: a face of its own
    with BuildSketch(Plane(origin=(0, 0, 0), x_dir=(-1, 0, 0), z_dir=(0, 0, 1))):
        with Locations(Location((-193.821262892, 805.032919951, 0), (0, 0, 180))):
            Circle(SZKIC7_R_3)
        with Locations(Location((-193.821262892, 805.032919951, 0), (0, 0, 180))):
            Circle(SZKIC7_R_2, mode=Mode.SUBTRACT)
    # profile 25 of 26: a face of its own
    with BuildSketch(Plane(origin=(0, 0, 0), x_dir=(-1, 0, 0), z_dir=(0, 0, 1))):
        with Locations(Location((-193.821262892, 787.032919951, 0), (0, 0, 180))):
            Circle(SZKIC7_R_3)
        with Locations(Location((-193.821262892, 787.032919951, 0), (0, 0, 180))):
            Circle(SZKIC7_R_2, mode=Mode.SUBTRACT)
    # profile 26 of 26: a face of its own
    with BuildSketch(Plane(origin=(0, 0, 0), x_dir=(-1, 0, 0), z_dir=(0, 0, 1))):
        with Locations(Location((-155.521262892, 787.032919951, 0), (0, 0, 180))):
            Circle(SZKIC7_R_3)
        with Locations(Location((-155.521262892, 787.032919951, 0), (0, 0, 180))):
            Circle(SZKIC7_R_2, mode=Mode.SUBTRACT)
    extrude(amount=-DODANIE_WYCI_GNI_CIE4_DEPTH)

    # Szkic9 → Dodanie-wyciągnięcie5 (add)
    with BuildSketch(Plane.XY.offset(4)):
        with Locations((230.021965136, -874.532919951)):
            Rectangle(SZKIC9_W, SZKIC9_H)
        with Locations((230.021965136, -874.532919951)):
            Rectangle(SZKIC9_W_2, SZKIC9_H_2, mode=Mode.SUBTRACT)
    extrude(amount=-DODANIE_WYCI_GNI_CIE5_DEPTH)

    # Szkic8 → Dodanie-wyciągnięcie7 (add)
    with BuildSketch(Plane(origin=(0, 0, 0), x_dir=(-1, 0, 0), z_dir=(0, 0, 1))):
        Polygon((-291.415951674, 944.785015546), (-289.915951674, 944.785015546), (-289.915951674, 967.785015546), (-172.915951674, 967.785015546), (-172.915951674, 944.285015546), (-171.415951674, 944.285015546), (-171.415951674, 969.285015546), (-291.415951674, 969.285015546), align=None)
        Polygon((-172.915951674, 909.817403318), (-289.915951674, 909.817403318), (-289.915951674, 932.785015546), (-291.415951674, 932.785015546), (-291.415951674, 908.317403318), (-171.415951674, 908.317403318), (-171.415951674, 909.817403318), (-171.415951674, 933.285015546), (-172.915951674, 933.285015546), align=None)
    extrude(amount=-DODANIE_WYCI_GNI_CIE7_DEPTH)

    # Szkic11 → Dodanie-wyciągnięcie8 (add)
    with BuildSketch(Plane(origin=(0, 0, 0), x_dir=(-1, 0, 0), z_dir=(0, 0, -1))):
        with BuildLine():
            ThreePointArc((-292.430886785, -915.073296905), (-293.895352879, -918.608830811), (-297.430886785, -920.073296905))
            Line((-297.430886785, -920.073296905), (-291.415951674, -920.073296905))
            Line((-291.415951674, -920.073296905), (-291.415951674, -910.073296905))
            Line((-291.415951674, -910.073296905), (-297.430886785, -910.073296905))
            ThreePointArc((-297.430886785, -910.073296905), (-293.895352879, -911.537762999), (-292.430886785, -915.073296905))
        make_face()
        with BuildLine():
            ThreePointArc((-292.430886785, -962.073296905), (-293.895352879, -965.608830811), (-297.430886785, -967.073296905))
            Line((-297.430886785, -967.073296905), (-291.415951674, -967.073296905))
            Line((-291.415951674, -967.073296905), (-291.415951674, -957.073296905))
            Line((-291.415951674, -957.073296905), (-297.430886785, -957.073296905))
            ThreePointArc((-297.430886785, -957.073296905), (-293.895352879, -958.537762999), (-292.430886785, -962.073296905))
        make_face()
        with BuildLine():
            Line((-171.415951674, -920.073296905), (-162.430886785, -920.073296905))
            ThreePointArc((-162.430886785, -920.073296905), (-167.430886785, -915.073296905), (-162.430886785, -910.073296905))
            Line((-162.430886785, -910.073296905), (-171.415951674, -910.073296905))
            Line((-171.415951674, -910.073296905), (-171.415951674, -920.073296905))
        make_face()
        with BuildLine():
            Line((-171.415951674, -967.073296905), (-162.430886785, -967.073296905))
            ThreePointArc((-162.430886785, -967.073296905), (-167.430886785, -962.073296905), (-162.430886785, -957.073296905))
            Line((-162.430886785, -957.073296905), (-171.415951674, -957.073296905))
            Line((-171.415951674, -957.073296905), (-171.415951674, -967.073296905))
        make_face()
    extrude(amount=DODANIE_WYCI_GNI_CIE8_DEPTH)

    # Szkic12 → Dodanie-wyciągnięcie9 (add)
    # profile 1 of 4: a face of its own
    with BuildSketch(Plane(origin=(0, 0, -10), x_dir=(-1, 0, 0), z_dir=(0, 0, -1))):
        with Locations(Location((-297.430886785, -915.073296905, 0), (0, 0, 90))):
            Circle(SZKIC12_R)
        with Locations(Location((-297.430886785, -915.073296905, 0), (0, 0, 180))):
            Circle(SZKIC12_R_2, mode=Mode.SUBTRACT)
    # profile 2 of 4: a face of its own
    with BuildSketch(Plane(origin=(0, 0, -10), x_dir=(-1, 0, 0), z_dir=(0, 0, -1))):
        with Locations(Location((-297.430886785, -962.073296905, 0), (0, 0, 90))):
            Circle(SZKIC12_R)
        with Locations(Location((-297.430886785, -962.073296905, 0), (0, 0, 180))):
            Circle(SZKIC12_R_2, mode=Mode.SUBTRACT)
    # profile 3 of 4: a face of its own
    with BuildSketch(Plane(origin=(0, 0, -10), x_dir=(-1, 0, 0), z_dir=(0, 0, -1))):
        with Locations(Location((-162.430886785, -915.073296905, 0), (0, 0, 90))):
            Circle(SZKIC12_R)
        with Locations(Location((-162.430886785, -915.073296905, 0), (0, 0, 180))):
            Circle(SZKIC12_R_2, mode=Mode.SUBTRACT)
    # profile 4 of 4: a face of its own
    with BuildSketch(Plane(origin=(0, 0, -10), x_dir=(-1, 0, 0), z_dir=(0, 0, -1))):
        with Locations(Location((-162.430886785, -962.073296905, 0), (0, 0, 90))):
            Circle(SZKIC12_R)
        with Locations(Location((-162.430886785, -962.073296905, 0), (0, 0, 180))):
            Circle(SZKIC12_R_2, mode=Mode.SUBTRACT)
    extrude(amount=DODANIE_WYCI_GNI_CIE9_DEPTH)

    # Szkic14 → Dodanie-wyciągnięcie10 (add)
    with BuildSketch(Plane(origin=(0, 0, 0), x_dir=(-1, 0, 0), z_dir=(0, 0, -1))):
        with Locations((-275.681965136, -775.532919951)):
            Rectangle(SZKIC14_W, SZKIC14_H)
    extrude(amount=DODANIE_WYCI_GNI_CIE10_DEPTH)


solid = part.part
